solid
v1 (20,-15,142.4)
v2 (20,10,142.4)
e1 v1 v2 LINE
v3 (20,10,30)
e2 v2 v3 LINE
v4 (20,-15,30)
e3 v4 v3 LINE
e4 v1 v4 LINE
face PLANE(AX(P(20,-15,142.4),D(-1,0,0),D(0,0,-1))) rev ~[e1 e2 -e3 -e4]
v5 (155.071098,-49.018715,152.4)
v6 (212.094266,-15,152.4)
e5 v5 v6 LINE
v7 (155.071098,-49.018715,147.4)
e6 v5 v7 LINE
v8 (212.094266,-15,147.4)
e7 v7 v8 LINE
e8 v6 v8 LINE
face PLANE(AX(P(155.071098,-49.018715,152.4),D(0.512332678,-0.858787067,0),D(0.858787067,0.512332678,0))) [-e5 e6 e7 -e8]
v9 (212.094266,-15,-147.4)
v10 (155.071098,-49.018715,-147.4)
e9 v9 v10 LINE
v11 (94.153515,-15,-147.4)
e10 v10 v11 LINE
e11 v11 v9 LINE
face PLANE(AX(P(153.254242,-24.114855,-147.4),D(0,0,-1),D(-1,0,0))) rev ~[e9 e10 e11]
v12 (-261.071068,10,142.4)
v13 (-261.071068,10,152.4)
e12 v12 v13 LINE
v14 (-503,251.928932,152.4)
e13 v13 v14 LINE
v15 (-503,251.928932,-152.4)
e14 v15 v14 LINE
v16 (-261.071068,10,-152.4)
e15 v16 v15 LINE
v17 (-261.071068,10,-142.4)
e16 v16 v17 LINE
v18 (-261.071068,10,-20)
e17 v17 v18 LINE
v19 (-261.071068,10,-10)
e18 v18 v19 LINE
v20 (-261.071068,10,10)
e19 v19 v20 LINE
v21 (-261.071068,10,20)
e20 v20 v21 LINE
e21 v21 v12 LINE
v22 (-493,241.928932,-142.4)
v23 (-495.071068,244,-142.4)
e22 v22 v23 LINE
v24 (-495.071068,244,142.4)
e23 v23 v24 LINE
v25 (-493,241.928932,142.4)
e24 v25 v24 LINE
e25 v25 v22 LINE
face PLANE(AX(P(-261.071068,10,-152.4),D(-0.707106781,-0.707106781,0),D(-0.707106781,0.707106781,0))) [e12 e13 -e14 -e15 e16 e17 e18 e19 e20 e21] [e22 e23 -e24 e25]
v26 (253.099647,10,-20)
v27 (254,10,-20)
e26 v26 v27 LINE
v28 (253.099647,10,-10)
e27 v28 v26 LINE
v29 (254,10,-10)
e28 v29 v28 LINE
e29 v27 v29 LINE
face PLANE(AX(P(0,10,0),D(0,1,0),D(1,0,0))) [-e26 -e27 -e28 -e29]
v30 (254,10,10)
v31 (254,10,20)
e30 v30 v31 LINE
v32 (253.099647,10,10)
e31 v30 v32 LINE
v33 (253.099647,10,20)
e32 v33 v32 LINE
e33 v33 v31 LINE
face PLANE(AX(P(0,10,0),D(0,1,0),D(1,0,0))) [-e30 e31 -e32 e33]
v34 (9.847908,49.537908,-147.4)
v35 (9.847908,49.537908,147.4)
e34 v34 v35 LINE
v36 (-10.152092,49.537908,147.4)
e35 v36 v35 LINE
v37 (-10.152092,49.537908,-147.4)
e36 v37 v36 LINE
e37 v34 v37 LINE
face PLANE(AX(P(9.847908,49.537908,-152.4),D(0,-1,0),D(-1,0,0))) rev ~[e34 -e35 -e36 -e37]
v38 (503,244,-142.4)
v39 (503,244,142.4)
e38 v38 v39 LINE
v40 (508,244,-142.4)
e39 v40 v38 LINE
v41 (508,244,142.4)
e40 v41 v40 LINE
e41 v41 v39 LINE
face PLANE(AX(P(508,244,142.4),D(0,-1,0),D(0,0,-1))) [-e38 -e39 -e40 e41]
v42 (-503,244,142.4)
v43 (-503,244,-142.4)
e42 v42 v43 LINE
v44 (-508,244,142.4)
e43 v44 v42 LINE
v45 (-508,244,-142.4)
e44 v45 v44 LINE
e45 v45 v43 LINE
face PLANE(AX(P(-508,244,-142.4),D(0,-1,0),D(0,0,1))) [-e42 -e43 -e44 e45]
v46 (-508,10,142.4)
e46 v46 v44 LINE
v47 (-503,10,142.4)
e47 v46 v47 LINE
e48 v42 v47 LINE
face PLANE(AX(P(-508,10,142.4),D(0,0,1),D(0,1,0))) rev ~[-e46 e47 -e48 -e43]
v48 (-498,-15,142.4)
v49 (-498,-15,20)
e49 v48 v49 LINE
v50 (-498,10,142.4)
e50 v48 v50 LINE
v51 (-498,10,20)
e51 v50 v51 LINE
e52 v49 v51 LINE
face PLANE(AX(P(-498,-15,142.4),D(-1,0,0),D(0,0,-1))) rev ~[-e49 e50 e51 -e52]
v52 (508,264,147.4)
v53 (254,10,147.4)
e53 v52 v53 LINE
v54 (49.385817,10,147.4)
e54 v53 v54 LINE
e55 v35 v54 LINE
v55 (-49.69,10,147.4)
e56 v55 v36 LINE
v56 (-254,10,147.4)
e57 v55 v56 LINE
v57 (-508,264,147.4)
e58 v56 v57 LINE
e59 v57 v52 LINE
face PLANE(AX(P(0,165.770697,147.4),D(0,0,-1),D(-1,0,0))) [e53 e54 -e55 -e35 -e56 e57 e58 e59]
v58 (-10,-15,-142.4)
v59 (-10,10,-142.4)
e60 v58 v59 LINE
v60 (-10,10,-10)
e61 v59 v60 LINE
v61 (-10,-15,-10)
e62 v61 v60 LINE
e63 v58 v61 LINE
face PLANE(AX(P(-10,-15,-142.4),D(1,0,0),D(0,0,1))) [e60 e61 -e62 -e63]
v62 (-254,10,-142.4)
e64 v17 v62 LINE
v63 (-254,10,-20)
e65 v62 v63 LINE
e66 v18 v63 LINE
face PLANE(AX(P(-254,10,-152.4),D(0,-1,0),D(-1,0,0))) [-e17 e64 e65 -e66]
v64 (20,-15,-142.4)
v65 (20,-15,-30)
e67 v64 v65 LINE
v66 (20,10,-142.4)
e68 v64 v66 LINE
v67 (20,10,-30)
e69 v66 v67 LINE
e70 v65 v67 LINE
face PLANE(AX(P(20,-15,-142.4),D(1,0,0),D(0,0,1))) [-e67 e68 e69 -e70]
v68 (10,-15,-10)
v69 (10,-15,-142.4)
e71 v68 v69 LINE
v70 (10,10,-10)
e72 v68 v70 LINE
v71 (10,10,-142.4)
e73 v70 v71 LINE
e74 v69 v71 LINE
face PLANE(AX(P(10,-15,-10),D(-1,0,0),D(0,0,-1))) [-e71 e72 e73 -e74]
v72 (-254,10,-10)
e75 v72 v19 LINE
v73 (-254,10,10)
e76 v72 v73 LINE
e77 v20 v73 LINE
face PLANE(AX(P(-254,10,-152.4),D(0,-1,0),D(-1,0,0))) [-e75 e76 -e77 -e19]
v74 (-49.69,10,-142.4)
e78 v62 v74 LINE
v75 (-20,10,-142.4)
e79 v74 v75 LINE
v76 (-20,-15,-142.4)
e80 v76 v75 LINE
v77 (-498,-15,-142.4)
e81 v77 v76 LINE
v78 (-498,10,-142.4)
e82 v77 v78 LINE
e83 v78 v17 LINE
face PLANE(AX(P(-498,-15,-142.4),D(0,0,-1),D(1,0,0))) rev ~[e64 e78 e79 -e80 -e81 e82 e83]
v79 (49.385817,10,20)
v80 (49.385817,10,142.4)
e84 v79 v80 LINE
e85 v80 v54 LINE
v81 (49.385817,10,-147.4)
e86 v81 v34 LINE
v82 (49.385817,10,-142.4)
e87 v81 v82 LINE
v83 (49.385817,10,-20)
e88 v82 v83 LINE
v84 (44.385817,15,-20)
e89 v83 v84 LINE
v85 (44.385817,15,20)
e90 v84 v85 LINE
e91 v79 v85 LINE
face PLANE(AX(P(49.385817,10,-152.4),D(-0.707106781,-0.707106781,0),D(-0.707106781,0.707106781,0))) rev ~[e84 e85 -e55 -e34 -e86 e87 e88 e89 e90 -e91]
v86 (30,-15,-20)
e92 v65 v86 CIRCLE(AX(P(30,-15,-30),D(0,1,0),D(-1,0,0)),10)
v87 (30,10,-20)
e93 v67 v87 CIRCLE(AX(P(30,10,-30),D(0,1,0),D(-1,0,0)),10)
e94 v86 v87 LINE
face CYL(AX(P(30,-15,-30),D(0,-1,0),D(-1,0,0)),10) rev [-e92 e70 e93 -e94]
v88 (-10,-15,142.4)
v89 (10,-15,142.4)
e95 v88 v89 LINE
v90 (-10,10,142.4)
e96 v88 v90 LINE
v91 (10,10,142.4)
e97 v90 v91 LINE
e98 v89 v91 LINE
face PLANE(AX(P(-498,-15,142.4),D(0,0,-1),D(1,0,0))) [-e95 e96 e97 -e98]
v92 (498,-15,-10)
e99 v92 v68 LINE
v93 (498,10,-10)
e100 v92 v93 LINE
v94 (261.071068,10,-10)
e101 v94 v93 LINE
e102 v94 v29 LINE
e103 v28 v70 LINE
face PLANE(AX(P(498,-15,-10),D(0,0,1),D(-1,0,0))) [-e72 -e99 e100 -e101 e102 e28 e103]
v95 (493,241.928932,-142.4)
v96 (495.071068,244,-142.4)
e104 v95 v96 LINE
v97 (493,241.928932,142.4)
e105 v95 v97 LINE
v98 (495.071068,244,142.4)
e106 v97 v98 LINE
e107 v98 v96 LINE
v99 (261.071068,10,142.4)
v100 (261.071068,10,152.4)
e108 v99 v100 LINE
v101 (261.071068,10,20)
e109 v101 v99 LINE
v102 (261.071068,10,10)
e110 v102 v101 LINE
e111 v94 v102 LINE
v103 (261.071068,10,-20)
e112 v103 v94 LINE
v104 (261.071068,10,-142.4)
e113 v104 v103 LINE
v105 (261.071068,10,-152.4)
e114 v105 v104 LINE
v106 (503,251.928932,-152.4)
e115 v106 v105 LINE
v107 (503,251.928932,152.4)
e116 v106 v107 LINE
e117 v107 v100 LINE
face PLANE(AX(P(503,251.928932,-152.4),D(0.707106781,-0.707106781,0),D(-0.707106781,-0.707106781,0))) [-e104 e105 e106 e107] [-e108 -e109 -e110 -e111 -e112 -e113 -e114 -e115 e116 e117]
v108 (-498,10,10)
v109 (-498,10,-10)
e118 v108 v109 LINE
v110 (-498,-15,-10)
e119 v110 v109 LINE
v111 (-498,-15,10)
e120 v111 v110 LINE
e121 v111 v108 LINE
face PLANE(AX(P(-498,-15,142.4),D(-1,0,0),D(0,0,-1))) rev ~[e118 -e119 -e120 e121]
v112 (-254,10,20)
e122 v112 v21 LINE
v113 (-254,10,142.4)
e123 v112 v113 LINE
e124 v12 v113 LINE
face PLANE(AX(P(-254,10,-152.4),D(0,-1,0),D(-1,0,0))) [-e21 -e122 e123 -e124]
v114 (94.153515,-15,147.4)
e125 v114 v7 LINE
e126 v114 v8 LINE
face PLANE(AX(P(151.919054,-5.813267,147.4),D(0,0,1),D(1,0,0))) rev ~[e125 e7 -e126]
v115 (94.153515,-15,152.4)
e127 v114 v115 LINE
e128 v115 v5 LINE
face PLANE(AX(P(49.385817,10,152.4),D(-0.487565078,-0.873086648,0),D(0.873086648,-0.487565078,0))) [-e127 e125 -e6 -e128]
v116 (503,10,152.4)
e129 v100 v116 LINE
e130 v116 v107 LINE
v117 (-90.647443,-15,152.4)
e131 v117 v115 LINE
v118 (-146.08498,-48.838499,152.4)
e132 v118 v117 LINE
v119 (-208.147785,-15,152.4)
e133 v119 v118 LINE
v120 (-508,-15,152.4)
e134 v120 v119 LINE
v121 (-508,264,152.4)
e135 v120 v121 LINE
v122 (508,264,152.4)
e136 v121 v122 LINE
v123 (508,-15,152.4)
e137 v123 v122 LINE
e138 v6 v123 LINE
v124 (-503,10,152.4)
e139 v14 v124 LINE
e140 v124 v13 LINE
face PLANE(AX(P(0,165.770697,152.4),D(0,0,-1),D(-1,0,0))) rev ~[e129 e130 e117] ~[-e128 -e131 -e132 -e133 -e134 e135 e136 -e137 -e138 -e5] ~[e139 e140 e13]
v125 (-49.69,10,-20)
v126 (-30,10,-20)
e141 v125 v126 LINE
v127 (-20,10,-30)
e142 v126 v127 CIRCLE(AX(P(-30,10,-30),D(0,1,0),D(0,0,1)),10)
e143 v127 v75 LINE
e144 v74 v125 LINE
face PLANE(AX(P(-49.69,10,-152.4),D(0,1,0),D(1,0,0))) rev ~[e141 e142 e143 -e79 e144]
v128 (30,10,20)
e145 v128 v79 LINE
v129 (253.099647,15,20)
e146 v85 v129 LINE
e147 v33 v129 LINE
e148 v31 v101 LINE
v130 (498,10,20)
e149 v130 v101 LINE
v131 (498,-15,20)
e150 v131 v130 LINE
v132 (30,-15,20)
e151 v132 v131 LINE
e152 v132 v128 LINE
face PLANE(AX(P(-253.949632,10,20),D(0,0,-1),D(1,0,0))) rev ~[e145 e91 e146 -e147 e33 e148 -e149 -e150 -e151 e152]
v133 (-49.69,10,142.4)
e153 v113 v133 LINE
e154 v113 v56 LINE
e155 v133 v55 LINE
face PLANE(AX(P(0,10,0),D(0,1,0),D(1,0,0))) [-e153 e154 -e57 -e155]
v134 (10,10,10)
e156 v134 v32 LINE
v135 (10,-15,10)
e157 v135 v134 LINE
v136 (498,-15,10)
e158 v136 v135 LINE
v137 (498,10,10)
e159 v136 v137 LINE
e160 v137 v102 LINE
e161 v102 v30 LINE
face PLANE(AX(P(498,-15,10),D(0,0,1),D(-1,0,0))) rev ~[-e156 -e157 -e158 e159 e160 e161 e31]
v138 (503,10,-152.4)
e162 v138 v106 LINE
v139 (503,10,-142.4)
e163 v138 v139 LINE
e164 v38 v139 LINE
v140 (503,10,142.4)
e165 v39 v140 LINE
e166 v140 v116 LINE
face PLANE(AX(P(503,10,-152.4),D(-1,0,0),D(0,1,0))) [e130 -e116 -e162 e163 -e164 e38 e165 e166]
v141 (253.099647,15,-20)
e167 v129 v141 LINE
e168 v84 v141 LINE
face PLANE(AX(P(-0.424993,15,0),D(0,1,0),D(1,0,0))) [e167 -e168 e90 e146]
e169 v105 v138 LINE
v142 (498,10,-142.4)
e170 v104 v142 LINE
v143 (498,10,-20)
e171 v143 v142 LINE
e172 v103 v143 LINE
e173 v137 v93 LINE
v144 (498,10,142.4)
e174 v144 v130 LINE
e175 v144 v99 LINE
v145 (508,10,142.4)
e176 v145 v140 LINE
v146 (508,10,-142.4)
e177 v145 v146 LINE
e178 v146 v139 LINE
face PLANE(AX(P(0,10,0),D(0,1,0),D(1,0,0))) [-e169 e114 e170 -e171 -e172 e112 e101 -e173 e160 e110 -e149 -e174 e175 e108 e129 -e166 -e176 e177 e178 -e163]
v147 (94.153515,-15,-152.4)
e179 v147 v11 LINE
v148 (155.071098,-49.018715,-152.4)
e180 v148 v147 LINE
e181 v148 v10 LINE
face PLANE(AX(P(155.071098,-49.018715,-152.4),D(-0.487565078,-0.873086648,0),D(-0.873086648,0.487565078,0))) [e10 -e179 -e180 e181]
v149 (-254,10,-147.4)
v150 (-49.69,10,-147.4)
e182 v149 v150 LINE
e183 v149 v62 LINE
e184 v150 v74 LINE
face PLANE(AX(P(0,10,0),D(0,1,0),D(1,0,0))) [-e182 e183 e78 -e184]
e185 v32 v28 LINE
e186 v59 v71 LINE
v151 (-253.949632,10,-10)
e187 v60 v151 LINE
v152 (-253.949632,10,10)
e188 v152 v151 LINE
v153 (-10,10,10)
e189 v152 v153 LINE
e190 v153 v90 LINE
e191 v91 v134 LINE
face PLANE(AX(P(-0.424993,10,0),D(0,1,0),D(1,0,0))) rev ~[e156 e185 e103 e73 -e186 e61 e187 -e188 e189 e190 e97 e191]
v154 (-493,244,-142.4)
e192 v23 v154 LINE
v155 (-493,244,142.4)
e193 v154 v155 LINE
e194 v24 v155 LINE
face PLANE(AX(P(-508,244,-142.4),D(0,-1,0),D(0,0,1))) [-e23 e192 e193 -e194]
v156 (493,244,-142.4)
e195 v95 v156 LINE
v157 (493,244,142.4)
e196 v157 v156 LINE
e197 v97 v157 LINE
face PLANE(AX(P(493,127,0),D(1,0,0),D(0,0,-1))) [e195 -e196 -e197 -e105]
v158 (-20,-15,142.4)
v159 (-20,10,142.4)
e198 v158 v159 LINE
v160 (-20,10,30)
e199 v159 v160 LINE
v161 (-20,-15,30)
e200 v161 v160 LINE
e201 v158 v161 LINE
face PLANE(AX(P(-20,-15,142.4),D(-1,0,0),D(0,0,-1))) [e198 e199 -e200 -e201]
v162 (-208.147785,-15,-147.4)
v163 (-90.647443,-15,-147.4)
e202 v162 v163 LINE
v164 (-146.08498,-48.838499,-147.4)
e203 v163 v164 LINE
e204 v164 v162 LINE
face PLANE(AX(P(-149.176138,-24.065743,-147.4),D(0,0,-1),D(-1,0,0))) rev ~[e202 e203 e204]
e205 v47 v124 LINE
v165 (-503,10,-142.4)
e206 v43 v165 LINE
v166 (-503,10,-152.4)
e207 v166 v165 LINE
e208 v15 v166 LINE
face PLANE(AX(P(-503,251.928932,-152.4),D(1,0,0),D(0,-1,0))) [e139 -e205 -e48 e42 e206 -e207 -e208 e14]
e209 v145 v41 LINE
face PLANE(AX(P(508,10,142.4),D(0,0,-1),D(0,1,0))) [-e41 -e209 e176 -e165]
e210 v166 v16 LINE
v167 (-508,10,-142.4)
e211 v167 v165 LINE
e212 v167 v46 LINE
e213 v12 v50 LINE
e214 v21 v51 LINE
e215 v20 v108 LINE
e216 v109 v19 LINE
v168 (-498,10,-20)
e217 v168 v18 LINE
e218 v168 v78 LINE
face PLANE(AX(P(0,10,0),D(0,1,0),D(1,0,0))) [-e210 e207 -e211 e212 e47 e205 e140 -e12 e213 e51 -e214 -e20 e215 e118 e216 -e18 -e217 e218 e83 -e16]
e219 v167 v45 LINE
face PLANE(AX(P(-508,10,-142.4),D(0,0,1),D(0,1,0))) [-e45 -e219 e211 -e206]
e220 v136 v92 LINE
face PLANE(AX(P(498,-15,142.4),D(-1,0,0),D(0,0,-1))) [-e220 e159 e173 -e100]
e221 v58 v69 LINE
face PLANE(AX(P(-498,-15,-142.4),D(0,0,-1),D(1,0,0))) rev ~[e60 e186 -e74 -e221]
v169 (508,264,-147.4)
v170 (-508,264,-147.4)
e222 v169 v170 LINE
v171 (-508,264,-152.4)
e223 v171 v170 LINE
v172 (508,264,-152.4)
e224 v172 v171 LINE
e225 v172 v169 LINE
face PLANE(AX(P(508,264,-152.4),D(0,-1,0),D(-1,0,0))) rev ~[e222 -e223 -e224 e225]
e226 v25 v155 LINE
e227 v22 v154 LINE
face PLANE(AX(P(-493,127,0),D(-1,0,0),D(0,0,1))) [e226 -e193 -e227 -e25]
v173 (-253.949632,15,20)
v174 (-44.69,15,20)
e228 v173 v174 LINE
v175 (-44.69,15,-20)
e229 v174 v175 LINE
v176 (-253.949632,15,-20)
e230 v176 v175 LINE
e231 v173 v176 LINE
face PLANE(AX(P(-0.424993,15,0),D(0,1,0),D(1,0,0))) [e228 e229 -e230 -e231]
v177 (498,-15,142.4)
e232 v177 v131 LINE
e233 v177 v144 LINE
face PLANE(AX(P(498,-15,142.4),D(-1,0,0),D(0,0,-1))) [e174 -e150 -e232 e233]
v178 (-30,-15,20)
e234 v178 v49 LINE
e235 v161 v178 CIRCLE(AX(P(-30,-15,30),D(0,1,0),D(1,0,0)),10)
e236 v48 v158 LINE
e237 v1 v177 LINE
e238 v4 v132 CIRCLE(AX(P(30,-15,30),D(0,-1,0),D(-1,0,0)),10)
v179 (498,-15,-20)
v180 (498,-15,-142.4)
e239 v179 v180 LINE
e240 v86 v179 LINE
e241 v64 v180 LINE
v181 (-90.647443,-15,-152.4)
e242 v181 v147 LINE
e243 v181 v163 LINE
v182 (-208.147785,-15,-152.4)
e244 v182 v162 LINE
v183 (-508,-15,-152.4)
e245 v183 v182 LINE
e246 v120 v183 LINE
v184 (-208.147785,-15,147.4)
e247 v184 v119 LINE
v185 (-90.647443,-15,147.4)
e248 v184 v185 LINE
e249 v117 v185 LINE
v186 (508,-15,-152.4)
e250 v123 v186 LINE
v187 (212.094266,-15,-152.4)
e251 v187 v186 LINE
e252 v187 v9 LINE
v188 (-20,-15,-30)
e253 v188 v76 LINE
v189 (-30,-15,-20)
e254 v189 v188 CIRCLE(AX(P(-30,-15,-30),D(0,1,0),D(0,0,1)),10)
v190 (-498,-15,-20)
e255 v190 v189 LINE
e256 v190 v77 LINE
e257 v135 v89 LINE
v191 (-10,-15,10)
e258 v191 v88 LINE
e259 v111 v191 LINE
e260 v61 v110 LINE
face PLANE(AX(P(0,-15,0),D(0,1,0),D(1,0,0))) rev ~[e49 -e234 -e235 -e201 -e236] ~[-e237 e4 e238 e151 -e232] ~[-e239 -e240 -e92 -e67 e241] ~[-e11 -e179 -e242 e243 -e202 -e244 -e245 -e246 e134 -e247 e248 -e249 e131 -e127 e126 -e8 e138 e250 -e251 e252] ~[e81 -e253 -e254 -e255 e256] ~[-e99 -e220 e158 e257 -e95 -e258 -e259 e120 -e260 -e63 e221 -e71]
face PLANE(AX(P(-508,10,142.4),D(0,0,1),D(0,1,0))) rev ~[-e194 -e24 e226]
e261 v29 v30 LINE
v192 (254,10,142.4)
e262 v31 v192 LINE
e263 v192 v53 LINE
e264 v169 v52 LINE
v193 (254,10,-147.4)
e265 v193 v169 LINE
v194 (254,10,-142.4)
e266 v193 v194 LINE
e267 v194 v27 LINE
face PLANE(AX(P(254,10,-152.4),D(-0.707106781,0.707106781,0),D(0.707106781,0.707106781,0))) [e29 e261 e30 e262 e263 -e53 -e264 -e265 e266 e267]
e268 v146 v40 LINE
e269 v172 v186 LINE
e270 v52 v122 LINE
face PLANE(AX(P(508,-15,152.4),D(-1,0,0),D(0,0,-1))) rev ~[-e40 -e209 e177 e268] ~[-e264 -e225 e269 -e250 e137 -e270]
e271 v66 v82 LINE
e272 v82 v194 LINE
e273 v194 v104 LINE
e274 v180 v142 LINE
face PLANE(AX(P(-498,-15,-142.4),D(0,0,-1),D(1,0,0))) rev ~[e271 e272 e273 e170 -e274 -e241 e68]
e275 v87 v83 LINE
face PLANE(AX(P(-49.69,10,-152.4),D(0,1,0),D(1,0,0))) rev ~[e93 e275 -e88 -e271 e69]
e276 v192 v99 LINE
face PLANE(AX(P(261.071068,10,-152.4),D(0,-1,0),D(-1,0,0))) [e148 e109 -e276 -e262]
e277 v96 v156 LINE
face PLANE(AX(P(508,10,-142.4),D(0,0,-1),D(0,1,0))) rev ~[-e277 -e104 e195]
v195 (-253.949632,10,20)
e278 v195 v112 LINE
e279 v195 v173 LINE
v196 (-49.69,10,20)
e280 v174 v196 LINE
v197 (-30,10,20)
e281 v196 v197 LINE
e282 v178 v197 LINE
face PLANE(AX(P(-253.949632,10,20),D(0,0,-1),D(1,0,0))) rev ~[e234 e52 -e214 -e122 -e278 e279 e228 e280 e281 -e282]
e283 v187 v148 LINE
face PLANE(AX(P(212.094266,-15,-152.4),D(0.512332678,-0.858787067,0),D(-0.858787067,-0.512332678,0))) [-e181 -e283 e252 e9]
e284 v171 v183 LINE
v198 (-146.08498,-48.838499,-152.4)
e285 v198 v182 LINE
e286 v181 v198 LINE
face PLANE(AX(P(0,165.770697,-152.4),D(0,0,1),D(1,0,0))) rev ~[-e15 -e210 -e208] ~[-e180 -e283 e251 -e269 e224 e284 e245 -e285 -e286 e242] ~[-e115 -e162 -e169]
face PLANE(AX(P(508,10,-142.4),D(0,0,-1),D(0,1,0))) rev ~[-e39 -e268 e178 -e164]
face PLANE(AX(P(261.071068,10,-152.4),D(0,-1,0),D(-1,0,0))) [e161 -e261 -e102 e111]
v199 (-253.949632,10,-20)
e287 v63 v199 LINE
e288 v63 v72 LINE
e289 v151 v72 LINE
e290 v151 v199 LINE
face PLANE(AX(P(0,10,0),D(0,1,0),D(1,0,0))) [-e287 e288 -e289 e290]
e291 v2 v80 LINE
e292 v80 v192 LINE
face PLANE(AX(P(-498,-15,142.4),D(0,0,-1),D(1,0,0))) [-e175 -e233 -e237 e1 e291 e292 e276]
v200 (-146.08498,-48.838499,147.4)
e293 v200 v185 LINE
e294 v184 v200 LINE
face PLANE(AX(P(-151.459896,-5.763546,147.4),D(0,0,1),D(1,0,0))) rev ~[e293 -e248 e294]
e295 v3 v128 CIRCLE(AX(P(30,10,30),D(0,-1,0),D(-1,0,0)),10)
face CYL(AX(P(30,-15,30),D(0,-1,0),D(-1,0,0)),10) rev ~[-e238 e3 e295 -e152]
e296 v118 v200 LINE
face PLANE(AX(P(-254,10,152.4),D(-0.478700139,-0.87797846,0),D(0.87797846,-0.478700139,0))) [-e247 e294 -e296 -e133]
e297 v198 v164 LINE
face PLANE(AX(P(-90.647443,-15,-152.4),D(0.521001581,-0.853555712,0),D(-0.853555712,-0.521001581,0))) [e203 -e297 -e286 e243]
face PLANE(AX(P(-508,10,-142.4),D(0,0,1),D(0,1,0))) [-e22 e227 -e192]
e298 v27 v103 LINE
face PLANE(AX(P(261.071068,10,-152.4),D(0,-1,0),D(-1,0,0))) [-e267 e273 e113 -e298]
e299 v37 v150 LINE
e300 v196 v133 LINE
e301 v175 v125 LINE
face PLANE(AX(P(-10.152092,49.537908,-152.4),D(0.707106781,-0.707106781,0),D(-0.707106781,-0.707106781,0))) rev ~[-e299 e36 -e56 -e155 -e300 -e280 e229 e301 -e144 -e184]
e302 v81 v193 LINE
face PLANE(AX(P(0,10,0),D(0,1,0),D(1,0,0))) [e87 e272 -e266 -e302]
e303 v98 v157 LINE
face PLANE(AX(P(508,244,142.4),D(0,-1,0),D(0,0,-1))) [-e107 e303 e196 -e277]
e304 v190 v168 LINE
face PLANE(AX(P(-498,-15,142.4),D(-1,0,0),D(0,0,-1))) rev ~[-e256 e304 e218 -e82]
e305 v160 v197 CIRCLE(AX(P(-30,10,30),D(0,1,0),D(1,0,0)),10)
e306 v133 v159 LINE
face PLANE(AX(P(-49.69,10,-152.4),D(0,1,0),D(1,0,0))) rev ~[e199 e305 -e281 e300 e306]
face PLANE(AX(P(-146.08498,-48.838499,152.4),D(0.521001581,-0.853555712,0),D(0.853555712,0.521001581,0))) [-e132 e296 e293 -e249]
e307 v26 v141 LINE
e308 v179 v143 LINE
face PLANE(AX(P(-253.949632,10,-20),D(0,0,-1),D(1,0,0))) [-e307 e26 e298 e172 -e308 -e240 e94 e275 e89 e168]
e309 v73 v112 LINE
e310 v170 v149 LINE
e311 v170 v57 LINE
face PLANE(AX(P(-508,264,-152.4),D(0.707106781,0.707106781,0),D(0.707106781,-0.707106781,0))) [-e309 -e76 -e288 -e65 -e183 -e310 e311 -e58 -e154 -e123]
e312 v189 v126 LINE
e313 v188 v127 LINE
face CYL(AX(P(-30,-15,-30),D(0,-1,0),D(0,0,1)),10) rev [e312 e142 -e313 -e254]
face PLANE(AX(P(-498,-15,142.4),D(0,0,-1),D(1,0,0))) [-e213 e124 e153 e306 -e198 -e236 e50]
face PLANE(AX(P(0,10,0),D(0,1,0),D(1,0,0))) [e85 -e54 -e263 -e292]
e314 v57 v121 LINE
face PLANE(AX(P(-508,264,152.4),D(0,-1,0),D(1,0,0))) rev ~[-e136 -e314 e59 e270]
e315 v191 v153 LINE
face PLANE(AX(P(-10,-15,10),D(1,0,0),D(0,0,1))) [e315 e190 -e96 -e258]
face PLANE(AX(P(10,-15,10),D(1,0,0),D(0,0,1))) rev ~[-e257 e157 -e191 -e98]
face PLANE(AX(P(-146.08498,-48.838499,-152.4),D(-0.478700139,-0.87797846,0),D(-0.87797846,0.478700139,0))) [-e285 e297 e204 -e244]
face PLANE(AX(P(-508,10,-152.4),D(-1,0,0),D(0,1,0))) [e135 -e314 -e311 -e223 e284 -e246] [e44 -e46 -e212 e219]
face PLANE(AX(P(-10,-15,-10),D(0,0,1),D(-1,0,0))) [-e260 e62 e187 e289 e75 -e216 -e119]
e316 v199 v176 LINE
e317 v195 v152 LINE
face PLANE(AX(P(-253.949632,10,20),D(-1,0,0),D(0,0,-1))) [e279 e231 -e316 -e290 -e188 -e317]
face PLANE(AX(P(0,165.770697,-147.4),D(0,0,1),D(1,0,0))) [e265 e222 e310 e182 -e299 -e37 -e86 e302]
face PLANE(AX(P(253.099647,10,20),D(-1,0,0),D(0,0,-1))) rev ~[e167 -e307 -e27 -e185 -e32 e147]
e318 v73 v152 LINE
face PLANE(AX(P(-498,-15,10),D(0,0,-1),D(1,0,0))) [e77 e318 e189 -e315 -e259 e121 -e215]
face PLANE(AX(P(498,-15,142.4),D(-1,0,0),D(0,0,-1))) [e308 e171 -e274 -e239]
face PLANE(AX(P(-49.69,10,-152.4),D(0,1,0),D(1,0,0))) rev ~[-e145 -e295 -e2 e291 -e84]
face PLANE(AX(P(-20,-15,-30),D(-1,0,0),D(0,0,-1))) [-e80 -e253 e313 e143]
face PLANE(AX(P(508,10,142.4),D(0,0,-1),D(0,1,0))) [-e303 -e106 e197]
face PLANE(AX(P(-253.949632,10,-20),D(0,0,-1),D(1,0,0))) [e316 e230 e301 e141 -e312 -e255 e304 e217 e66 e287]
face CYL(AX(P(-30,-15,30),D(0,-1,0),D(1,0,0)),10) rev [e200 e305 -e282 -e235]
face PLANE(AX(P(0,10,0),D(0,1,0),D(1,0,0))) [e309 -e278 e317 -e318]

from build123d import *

# Parameters (mm, degrees)
BOSS_EXTRUDE1_DEPTH      = 10
BOSS_EXTRUDE1_DEPTH_BACK = 15
SKETCH1_W                = 1016
SKETCH1_H                = 304.8
SKETCH1_W_2              = 996
SKETCH1_H_2              = 284.8
BOSS_EXTRUDE2_DEPTH      = 10
BOSS_EXTRUDE2_DEPTH_BACK = 15
BOSS_EXTRUDE3_DEPTH      = 152.4
BOSS_EXTRUDE3_DEPTH_BACK = 152.4
SKETCH4_W                = 507.049279033
SKETCH4_H                = 40
BOSS_EXTRUDE7_DEPTH      = 5
SKETCH5_W                = 284.8
SKETCH5_H                = 234
CUT_EXTRUDE1_DEPTH       = 15
SKETCH6_W                = 284.8
SKETCH6_H                = 234
CUT_EXTRUDE2_DEPTH       = 15
BOSS_EXTRUDE8_DEPTH      = 304.8
BOSS_EXTRUDE9_DEPTH      = 5
BOSS_EXTRUDE10_DEPTH     = 5
BOSS_EXTRUDE11_DEPTH     = 5
BOSS_EXTRUDE12_DEPTH     = 5


with BuildPart() as part:
    # Sketch1 → Boss-Extrude1 (new, two sides: drawn at the far end of the back side and taken through both)
    with BuildSketch(Plane(origin=(0, 0, 0), x_dir=(1, 0, 0), z_dir=(0, 1, 0)).offset(-BOSS_EXTRUDE1_DEPTH_BACK)):
        Rectangle(SKETCH1_W, SKETCH1_H)
        Rectangle(SKETCH1_W_2, SKETCH1_H_2, mode=Mode.SUBTRACT)
    extrude(amount=BOSS_EXTRUDE1_DEPTH + BOSS_EXTRUDE1_DEPTH_BACK)

    # Sketch2 → Boss-Extrude2 (add, two sides: drawn at the far end of the back side and taken through both)
    with BuildSketch(Plane(origin=(0, 0, 0), x_dir=(1, 0, 0), z_dir=(0, 1, 0)).offset(-BOSS_EXTRUDE2_DEPTH_BACK)):
        with BuildLine():
            Line((-498, 20), (-30, 20))
            ThreePointArc((-30, 20), (-22.928932188, 22.928932188), (-20, 30))
            Line((-20, 30), (-20, 142.4))
            Line((-20, 142.4), (-10, 142.4))
            Line((-10, 142.4), (-10, 20))
            Line((-10, 20), (-10, 10))
            Line((-10, 10), (-498, 10))
            Line((-498, 10), (-498, 20))
        make_face()
        with BuildLine():
            Line((498, 20), (498, 10))
            Line((498, 10), (10, 10))
            Line((10, 10), (10, 20))
            Line((10, 20), (10, 142.4))
            Line((10, 142.4), (20, 142.4))
            Line((20, 142.4), (20, 30))
            ThreePointArc((20, 30), (22.928932188, 22.928932188), (30, 20))
            Line((30, 20), (498, 20))
        make_face()
        with BuildLine():
            Line((-498, -10), (-10, -10))
            Line((-10, -10), (-10, -20))
            Line((-10, -20), (-10, -142.4))
            Line((-10, -142.4), (-20, -142.4))
            Line((-20, -142.4), (-20, -30))
            ThreePointArc((-20, -30), (-22.928932188, -22.928932188), (-30, -20))
            Line((-30, -20), (-498, -20))
            Line((-498, -20), (-498, -10))
        make_face()
        with BuildLine():
            Line((30, -20), (498, -20))
            Line((498, -20), (498, -10))
            Line((498, -10), (10, -10))
            Line((10, -10), (10, -20))
            Line((10, -20), (10, -142.4))
            Line((10, -142.4), (20, -142.4))
            Line((20, -142.4), (20, -30))
            ThreePointArc((20, -30), (22.928932188, -22.928932188), (30, -20))
        make_face()
    extrude(amount=BOSS_EXTRUDE2_DEPTH + BOSS_EXTRUDE2_DEPTH_BACK)

    # Sketch3 → Boss-Extrude3 (add, two sides: drawn at the far end of the back side and taken through both)
    with BuildSketch(Plane.XY.offset(-BOSS_EXTRUDE3_DEPTH_BACK)):
        Polygon((-508, 10), (-508, 264), (-254, 10), (-261.071067812, 10), (-503, 251.928932188), (-503, 10), align=None)
        Polygon((261.071067812, 10), (254, 10), (508, 264), (508, 10), (503, 10), (503, 251.928932188), align=None)
    extrude(amount=BOSS_EXTRUDE3_DEPTH + BOSS_EXTRUDE3_DEPTH_BACK)

    # Sketch4 → Boss-Extrude7 (add)
    with BuildSketch(Plane(origin=(0, 10, 0), x_dir=(1, 0, 0), z_dir=(0, 1, 0))):
        with Locations((-0.42499269, 0)):
            Rectangle(SKETCH4_W, SKETCH4_H)
    extrude(amount=BOSS_EXTRUDE7_DEPTH)

    # Sketch5 → Cut-Extrude1 (cut)
    with BuildSketch(Plane(origin=(508, 0, 0), x_dir=(0, 0, -1), z_dir=(1, 0, 0))):
        with Locations((0, 127)):
            Rectangle(SKETCH5_W, SKETCH5_H)
    extrude(amount=-CUT_EXTRUDE1_DEPTH, mode=Mode.SUBTRACT)

    # Sketch6 → Cut-Extrude2 (cut)
    with BuildSketch(Plane.ZY.offset(508)):
        with Locations((0, 127)):
            Rectangle(SKETCH6_W, SKETCH6_H)
    extrude(amount=-CUT_EXTRUDE2_DEPTH, mode=Mode.SUBTRACT)

    # Sketch7 → Boss-Extrude8 (add)
    with BuildSketch(Plane(origin=(0, 0, -152.4), x_dir=(-1, 0, 0), z_dir=(0, 0, -1))):
        Polygon((-49.38581657, 10), (-9.847908285, 49.537908285), (10.152091715, 49.537908285), (49.69, 10), align=None)
    extrude(amount=-BOSS_EXTRUDE8_DEPTH)

    # Sketch8 → Boss-Extrude9 (add)
    with BuildSketch(Plane.XY.offset(152.4)):
        Polygon((-508, 264), (508, 264), (254, 10), (-254, 10), align=None)
    extrude(amount=-BOSS_EXTRUDE9_DEPTH)

    # Sketch9 → Boss-Extrude10 (add)
    with BuildSketch(Plane(origin=(0, 0, -152.4), x_dir=(-1, 0, 0), z_dir=(0, 0, -1))):
        Polygon((-508, 264), (508, 264), (254, 10), (-254, 10), align=None)
    extrude(amount=-BOSS_EXTRUDE10_DEPTH)

    # Sketch10 → Boss-Extrude11 (add)
    with BuildSketch(Plane.XY.offset(152.4)):
        Polygon((-254, 10), (-146.084980294, -48.838499263), (-49.69, 10), align=None)
        Polygon((49.38581657, 10), (155.071097682, -49.018715311), (254, 10), align=None)
    extrude(amount=-BOSS_EXTRUDE11_DEPTH)

    # Sketch11 → Boss-Extrude12 (add)
    with BuildSketch(Plane(origin=(0, 0, -152.4), x_dir=(-1, 0, 0), z_dir=(0, 0, -1))):
        Polygon((-212.094266455, -15), (-155.071097682, -49.018715311), (-94.153514645, -15), align=None)
        Polygon((90.647443469, -15), (146.084980294, -48.838499263), (208.147785439, -15), align=None)
    extrude(amount=-BOSS_EXTRUDE12_DEPTH)


solid = part.part
